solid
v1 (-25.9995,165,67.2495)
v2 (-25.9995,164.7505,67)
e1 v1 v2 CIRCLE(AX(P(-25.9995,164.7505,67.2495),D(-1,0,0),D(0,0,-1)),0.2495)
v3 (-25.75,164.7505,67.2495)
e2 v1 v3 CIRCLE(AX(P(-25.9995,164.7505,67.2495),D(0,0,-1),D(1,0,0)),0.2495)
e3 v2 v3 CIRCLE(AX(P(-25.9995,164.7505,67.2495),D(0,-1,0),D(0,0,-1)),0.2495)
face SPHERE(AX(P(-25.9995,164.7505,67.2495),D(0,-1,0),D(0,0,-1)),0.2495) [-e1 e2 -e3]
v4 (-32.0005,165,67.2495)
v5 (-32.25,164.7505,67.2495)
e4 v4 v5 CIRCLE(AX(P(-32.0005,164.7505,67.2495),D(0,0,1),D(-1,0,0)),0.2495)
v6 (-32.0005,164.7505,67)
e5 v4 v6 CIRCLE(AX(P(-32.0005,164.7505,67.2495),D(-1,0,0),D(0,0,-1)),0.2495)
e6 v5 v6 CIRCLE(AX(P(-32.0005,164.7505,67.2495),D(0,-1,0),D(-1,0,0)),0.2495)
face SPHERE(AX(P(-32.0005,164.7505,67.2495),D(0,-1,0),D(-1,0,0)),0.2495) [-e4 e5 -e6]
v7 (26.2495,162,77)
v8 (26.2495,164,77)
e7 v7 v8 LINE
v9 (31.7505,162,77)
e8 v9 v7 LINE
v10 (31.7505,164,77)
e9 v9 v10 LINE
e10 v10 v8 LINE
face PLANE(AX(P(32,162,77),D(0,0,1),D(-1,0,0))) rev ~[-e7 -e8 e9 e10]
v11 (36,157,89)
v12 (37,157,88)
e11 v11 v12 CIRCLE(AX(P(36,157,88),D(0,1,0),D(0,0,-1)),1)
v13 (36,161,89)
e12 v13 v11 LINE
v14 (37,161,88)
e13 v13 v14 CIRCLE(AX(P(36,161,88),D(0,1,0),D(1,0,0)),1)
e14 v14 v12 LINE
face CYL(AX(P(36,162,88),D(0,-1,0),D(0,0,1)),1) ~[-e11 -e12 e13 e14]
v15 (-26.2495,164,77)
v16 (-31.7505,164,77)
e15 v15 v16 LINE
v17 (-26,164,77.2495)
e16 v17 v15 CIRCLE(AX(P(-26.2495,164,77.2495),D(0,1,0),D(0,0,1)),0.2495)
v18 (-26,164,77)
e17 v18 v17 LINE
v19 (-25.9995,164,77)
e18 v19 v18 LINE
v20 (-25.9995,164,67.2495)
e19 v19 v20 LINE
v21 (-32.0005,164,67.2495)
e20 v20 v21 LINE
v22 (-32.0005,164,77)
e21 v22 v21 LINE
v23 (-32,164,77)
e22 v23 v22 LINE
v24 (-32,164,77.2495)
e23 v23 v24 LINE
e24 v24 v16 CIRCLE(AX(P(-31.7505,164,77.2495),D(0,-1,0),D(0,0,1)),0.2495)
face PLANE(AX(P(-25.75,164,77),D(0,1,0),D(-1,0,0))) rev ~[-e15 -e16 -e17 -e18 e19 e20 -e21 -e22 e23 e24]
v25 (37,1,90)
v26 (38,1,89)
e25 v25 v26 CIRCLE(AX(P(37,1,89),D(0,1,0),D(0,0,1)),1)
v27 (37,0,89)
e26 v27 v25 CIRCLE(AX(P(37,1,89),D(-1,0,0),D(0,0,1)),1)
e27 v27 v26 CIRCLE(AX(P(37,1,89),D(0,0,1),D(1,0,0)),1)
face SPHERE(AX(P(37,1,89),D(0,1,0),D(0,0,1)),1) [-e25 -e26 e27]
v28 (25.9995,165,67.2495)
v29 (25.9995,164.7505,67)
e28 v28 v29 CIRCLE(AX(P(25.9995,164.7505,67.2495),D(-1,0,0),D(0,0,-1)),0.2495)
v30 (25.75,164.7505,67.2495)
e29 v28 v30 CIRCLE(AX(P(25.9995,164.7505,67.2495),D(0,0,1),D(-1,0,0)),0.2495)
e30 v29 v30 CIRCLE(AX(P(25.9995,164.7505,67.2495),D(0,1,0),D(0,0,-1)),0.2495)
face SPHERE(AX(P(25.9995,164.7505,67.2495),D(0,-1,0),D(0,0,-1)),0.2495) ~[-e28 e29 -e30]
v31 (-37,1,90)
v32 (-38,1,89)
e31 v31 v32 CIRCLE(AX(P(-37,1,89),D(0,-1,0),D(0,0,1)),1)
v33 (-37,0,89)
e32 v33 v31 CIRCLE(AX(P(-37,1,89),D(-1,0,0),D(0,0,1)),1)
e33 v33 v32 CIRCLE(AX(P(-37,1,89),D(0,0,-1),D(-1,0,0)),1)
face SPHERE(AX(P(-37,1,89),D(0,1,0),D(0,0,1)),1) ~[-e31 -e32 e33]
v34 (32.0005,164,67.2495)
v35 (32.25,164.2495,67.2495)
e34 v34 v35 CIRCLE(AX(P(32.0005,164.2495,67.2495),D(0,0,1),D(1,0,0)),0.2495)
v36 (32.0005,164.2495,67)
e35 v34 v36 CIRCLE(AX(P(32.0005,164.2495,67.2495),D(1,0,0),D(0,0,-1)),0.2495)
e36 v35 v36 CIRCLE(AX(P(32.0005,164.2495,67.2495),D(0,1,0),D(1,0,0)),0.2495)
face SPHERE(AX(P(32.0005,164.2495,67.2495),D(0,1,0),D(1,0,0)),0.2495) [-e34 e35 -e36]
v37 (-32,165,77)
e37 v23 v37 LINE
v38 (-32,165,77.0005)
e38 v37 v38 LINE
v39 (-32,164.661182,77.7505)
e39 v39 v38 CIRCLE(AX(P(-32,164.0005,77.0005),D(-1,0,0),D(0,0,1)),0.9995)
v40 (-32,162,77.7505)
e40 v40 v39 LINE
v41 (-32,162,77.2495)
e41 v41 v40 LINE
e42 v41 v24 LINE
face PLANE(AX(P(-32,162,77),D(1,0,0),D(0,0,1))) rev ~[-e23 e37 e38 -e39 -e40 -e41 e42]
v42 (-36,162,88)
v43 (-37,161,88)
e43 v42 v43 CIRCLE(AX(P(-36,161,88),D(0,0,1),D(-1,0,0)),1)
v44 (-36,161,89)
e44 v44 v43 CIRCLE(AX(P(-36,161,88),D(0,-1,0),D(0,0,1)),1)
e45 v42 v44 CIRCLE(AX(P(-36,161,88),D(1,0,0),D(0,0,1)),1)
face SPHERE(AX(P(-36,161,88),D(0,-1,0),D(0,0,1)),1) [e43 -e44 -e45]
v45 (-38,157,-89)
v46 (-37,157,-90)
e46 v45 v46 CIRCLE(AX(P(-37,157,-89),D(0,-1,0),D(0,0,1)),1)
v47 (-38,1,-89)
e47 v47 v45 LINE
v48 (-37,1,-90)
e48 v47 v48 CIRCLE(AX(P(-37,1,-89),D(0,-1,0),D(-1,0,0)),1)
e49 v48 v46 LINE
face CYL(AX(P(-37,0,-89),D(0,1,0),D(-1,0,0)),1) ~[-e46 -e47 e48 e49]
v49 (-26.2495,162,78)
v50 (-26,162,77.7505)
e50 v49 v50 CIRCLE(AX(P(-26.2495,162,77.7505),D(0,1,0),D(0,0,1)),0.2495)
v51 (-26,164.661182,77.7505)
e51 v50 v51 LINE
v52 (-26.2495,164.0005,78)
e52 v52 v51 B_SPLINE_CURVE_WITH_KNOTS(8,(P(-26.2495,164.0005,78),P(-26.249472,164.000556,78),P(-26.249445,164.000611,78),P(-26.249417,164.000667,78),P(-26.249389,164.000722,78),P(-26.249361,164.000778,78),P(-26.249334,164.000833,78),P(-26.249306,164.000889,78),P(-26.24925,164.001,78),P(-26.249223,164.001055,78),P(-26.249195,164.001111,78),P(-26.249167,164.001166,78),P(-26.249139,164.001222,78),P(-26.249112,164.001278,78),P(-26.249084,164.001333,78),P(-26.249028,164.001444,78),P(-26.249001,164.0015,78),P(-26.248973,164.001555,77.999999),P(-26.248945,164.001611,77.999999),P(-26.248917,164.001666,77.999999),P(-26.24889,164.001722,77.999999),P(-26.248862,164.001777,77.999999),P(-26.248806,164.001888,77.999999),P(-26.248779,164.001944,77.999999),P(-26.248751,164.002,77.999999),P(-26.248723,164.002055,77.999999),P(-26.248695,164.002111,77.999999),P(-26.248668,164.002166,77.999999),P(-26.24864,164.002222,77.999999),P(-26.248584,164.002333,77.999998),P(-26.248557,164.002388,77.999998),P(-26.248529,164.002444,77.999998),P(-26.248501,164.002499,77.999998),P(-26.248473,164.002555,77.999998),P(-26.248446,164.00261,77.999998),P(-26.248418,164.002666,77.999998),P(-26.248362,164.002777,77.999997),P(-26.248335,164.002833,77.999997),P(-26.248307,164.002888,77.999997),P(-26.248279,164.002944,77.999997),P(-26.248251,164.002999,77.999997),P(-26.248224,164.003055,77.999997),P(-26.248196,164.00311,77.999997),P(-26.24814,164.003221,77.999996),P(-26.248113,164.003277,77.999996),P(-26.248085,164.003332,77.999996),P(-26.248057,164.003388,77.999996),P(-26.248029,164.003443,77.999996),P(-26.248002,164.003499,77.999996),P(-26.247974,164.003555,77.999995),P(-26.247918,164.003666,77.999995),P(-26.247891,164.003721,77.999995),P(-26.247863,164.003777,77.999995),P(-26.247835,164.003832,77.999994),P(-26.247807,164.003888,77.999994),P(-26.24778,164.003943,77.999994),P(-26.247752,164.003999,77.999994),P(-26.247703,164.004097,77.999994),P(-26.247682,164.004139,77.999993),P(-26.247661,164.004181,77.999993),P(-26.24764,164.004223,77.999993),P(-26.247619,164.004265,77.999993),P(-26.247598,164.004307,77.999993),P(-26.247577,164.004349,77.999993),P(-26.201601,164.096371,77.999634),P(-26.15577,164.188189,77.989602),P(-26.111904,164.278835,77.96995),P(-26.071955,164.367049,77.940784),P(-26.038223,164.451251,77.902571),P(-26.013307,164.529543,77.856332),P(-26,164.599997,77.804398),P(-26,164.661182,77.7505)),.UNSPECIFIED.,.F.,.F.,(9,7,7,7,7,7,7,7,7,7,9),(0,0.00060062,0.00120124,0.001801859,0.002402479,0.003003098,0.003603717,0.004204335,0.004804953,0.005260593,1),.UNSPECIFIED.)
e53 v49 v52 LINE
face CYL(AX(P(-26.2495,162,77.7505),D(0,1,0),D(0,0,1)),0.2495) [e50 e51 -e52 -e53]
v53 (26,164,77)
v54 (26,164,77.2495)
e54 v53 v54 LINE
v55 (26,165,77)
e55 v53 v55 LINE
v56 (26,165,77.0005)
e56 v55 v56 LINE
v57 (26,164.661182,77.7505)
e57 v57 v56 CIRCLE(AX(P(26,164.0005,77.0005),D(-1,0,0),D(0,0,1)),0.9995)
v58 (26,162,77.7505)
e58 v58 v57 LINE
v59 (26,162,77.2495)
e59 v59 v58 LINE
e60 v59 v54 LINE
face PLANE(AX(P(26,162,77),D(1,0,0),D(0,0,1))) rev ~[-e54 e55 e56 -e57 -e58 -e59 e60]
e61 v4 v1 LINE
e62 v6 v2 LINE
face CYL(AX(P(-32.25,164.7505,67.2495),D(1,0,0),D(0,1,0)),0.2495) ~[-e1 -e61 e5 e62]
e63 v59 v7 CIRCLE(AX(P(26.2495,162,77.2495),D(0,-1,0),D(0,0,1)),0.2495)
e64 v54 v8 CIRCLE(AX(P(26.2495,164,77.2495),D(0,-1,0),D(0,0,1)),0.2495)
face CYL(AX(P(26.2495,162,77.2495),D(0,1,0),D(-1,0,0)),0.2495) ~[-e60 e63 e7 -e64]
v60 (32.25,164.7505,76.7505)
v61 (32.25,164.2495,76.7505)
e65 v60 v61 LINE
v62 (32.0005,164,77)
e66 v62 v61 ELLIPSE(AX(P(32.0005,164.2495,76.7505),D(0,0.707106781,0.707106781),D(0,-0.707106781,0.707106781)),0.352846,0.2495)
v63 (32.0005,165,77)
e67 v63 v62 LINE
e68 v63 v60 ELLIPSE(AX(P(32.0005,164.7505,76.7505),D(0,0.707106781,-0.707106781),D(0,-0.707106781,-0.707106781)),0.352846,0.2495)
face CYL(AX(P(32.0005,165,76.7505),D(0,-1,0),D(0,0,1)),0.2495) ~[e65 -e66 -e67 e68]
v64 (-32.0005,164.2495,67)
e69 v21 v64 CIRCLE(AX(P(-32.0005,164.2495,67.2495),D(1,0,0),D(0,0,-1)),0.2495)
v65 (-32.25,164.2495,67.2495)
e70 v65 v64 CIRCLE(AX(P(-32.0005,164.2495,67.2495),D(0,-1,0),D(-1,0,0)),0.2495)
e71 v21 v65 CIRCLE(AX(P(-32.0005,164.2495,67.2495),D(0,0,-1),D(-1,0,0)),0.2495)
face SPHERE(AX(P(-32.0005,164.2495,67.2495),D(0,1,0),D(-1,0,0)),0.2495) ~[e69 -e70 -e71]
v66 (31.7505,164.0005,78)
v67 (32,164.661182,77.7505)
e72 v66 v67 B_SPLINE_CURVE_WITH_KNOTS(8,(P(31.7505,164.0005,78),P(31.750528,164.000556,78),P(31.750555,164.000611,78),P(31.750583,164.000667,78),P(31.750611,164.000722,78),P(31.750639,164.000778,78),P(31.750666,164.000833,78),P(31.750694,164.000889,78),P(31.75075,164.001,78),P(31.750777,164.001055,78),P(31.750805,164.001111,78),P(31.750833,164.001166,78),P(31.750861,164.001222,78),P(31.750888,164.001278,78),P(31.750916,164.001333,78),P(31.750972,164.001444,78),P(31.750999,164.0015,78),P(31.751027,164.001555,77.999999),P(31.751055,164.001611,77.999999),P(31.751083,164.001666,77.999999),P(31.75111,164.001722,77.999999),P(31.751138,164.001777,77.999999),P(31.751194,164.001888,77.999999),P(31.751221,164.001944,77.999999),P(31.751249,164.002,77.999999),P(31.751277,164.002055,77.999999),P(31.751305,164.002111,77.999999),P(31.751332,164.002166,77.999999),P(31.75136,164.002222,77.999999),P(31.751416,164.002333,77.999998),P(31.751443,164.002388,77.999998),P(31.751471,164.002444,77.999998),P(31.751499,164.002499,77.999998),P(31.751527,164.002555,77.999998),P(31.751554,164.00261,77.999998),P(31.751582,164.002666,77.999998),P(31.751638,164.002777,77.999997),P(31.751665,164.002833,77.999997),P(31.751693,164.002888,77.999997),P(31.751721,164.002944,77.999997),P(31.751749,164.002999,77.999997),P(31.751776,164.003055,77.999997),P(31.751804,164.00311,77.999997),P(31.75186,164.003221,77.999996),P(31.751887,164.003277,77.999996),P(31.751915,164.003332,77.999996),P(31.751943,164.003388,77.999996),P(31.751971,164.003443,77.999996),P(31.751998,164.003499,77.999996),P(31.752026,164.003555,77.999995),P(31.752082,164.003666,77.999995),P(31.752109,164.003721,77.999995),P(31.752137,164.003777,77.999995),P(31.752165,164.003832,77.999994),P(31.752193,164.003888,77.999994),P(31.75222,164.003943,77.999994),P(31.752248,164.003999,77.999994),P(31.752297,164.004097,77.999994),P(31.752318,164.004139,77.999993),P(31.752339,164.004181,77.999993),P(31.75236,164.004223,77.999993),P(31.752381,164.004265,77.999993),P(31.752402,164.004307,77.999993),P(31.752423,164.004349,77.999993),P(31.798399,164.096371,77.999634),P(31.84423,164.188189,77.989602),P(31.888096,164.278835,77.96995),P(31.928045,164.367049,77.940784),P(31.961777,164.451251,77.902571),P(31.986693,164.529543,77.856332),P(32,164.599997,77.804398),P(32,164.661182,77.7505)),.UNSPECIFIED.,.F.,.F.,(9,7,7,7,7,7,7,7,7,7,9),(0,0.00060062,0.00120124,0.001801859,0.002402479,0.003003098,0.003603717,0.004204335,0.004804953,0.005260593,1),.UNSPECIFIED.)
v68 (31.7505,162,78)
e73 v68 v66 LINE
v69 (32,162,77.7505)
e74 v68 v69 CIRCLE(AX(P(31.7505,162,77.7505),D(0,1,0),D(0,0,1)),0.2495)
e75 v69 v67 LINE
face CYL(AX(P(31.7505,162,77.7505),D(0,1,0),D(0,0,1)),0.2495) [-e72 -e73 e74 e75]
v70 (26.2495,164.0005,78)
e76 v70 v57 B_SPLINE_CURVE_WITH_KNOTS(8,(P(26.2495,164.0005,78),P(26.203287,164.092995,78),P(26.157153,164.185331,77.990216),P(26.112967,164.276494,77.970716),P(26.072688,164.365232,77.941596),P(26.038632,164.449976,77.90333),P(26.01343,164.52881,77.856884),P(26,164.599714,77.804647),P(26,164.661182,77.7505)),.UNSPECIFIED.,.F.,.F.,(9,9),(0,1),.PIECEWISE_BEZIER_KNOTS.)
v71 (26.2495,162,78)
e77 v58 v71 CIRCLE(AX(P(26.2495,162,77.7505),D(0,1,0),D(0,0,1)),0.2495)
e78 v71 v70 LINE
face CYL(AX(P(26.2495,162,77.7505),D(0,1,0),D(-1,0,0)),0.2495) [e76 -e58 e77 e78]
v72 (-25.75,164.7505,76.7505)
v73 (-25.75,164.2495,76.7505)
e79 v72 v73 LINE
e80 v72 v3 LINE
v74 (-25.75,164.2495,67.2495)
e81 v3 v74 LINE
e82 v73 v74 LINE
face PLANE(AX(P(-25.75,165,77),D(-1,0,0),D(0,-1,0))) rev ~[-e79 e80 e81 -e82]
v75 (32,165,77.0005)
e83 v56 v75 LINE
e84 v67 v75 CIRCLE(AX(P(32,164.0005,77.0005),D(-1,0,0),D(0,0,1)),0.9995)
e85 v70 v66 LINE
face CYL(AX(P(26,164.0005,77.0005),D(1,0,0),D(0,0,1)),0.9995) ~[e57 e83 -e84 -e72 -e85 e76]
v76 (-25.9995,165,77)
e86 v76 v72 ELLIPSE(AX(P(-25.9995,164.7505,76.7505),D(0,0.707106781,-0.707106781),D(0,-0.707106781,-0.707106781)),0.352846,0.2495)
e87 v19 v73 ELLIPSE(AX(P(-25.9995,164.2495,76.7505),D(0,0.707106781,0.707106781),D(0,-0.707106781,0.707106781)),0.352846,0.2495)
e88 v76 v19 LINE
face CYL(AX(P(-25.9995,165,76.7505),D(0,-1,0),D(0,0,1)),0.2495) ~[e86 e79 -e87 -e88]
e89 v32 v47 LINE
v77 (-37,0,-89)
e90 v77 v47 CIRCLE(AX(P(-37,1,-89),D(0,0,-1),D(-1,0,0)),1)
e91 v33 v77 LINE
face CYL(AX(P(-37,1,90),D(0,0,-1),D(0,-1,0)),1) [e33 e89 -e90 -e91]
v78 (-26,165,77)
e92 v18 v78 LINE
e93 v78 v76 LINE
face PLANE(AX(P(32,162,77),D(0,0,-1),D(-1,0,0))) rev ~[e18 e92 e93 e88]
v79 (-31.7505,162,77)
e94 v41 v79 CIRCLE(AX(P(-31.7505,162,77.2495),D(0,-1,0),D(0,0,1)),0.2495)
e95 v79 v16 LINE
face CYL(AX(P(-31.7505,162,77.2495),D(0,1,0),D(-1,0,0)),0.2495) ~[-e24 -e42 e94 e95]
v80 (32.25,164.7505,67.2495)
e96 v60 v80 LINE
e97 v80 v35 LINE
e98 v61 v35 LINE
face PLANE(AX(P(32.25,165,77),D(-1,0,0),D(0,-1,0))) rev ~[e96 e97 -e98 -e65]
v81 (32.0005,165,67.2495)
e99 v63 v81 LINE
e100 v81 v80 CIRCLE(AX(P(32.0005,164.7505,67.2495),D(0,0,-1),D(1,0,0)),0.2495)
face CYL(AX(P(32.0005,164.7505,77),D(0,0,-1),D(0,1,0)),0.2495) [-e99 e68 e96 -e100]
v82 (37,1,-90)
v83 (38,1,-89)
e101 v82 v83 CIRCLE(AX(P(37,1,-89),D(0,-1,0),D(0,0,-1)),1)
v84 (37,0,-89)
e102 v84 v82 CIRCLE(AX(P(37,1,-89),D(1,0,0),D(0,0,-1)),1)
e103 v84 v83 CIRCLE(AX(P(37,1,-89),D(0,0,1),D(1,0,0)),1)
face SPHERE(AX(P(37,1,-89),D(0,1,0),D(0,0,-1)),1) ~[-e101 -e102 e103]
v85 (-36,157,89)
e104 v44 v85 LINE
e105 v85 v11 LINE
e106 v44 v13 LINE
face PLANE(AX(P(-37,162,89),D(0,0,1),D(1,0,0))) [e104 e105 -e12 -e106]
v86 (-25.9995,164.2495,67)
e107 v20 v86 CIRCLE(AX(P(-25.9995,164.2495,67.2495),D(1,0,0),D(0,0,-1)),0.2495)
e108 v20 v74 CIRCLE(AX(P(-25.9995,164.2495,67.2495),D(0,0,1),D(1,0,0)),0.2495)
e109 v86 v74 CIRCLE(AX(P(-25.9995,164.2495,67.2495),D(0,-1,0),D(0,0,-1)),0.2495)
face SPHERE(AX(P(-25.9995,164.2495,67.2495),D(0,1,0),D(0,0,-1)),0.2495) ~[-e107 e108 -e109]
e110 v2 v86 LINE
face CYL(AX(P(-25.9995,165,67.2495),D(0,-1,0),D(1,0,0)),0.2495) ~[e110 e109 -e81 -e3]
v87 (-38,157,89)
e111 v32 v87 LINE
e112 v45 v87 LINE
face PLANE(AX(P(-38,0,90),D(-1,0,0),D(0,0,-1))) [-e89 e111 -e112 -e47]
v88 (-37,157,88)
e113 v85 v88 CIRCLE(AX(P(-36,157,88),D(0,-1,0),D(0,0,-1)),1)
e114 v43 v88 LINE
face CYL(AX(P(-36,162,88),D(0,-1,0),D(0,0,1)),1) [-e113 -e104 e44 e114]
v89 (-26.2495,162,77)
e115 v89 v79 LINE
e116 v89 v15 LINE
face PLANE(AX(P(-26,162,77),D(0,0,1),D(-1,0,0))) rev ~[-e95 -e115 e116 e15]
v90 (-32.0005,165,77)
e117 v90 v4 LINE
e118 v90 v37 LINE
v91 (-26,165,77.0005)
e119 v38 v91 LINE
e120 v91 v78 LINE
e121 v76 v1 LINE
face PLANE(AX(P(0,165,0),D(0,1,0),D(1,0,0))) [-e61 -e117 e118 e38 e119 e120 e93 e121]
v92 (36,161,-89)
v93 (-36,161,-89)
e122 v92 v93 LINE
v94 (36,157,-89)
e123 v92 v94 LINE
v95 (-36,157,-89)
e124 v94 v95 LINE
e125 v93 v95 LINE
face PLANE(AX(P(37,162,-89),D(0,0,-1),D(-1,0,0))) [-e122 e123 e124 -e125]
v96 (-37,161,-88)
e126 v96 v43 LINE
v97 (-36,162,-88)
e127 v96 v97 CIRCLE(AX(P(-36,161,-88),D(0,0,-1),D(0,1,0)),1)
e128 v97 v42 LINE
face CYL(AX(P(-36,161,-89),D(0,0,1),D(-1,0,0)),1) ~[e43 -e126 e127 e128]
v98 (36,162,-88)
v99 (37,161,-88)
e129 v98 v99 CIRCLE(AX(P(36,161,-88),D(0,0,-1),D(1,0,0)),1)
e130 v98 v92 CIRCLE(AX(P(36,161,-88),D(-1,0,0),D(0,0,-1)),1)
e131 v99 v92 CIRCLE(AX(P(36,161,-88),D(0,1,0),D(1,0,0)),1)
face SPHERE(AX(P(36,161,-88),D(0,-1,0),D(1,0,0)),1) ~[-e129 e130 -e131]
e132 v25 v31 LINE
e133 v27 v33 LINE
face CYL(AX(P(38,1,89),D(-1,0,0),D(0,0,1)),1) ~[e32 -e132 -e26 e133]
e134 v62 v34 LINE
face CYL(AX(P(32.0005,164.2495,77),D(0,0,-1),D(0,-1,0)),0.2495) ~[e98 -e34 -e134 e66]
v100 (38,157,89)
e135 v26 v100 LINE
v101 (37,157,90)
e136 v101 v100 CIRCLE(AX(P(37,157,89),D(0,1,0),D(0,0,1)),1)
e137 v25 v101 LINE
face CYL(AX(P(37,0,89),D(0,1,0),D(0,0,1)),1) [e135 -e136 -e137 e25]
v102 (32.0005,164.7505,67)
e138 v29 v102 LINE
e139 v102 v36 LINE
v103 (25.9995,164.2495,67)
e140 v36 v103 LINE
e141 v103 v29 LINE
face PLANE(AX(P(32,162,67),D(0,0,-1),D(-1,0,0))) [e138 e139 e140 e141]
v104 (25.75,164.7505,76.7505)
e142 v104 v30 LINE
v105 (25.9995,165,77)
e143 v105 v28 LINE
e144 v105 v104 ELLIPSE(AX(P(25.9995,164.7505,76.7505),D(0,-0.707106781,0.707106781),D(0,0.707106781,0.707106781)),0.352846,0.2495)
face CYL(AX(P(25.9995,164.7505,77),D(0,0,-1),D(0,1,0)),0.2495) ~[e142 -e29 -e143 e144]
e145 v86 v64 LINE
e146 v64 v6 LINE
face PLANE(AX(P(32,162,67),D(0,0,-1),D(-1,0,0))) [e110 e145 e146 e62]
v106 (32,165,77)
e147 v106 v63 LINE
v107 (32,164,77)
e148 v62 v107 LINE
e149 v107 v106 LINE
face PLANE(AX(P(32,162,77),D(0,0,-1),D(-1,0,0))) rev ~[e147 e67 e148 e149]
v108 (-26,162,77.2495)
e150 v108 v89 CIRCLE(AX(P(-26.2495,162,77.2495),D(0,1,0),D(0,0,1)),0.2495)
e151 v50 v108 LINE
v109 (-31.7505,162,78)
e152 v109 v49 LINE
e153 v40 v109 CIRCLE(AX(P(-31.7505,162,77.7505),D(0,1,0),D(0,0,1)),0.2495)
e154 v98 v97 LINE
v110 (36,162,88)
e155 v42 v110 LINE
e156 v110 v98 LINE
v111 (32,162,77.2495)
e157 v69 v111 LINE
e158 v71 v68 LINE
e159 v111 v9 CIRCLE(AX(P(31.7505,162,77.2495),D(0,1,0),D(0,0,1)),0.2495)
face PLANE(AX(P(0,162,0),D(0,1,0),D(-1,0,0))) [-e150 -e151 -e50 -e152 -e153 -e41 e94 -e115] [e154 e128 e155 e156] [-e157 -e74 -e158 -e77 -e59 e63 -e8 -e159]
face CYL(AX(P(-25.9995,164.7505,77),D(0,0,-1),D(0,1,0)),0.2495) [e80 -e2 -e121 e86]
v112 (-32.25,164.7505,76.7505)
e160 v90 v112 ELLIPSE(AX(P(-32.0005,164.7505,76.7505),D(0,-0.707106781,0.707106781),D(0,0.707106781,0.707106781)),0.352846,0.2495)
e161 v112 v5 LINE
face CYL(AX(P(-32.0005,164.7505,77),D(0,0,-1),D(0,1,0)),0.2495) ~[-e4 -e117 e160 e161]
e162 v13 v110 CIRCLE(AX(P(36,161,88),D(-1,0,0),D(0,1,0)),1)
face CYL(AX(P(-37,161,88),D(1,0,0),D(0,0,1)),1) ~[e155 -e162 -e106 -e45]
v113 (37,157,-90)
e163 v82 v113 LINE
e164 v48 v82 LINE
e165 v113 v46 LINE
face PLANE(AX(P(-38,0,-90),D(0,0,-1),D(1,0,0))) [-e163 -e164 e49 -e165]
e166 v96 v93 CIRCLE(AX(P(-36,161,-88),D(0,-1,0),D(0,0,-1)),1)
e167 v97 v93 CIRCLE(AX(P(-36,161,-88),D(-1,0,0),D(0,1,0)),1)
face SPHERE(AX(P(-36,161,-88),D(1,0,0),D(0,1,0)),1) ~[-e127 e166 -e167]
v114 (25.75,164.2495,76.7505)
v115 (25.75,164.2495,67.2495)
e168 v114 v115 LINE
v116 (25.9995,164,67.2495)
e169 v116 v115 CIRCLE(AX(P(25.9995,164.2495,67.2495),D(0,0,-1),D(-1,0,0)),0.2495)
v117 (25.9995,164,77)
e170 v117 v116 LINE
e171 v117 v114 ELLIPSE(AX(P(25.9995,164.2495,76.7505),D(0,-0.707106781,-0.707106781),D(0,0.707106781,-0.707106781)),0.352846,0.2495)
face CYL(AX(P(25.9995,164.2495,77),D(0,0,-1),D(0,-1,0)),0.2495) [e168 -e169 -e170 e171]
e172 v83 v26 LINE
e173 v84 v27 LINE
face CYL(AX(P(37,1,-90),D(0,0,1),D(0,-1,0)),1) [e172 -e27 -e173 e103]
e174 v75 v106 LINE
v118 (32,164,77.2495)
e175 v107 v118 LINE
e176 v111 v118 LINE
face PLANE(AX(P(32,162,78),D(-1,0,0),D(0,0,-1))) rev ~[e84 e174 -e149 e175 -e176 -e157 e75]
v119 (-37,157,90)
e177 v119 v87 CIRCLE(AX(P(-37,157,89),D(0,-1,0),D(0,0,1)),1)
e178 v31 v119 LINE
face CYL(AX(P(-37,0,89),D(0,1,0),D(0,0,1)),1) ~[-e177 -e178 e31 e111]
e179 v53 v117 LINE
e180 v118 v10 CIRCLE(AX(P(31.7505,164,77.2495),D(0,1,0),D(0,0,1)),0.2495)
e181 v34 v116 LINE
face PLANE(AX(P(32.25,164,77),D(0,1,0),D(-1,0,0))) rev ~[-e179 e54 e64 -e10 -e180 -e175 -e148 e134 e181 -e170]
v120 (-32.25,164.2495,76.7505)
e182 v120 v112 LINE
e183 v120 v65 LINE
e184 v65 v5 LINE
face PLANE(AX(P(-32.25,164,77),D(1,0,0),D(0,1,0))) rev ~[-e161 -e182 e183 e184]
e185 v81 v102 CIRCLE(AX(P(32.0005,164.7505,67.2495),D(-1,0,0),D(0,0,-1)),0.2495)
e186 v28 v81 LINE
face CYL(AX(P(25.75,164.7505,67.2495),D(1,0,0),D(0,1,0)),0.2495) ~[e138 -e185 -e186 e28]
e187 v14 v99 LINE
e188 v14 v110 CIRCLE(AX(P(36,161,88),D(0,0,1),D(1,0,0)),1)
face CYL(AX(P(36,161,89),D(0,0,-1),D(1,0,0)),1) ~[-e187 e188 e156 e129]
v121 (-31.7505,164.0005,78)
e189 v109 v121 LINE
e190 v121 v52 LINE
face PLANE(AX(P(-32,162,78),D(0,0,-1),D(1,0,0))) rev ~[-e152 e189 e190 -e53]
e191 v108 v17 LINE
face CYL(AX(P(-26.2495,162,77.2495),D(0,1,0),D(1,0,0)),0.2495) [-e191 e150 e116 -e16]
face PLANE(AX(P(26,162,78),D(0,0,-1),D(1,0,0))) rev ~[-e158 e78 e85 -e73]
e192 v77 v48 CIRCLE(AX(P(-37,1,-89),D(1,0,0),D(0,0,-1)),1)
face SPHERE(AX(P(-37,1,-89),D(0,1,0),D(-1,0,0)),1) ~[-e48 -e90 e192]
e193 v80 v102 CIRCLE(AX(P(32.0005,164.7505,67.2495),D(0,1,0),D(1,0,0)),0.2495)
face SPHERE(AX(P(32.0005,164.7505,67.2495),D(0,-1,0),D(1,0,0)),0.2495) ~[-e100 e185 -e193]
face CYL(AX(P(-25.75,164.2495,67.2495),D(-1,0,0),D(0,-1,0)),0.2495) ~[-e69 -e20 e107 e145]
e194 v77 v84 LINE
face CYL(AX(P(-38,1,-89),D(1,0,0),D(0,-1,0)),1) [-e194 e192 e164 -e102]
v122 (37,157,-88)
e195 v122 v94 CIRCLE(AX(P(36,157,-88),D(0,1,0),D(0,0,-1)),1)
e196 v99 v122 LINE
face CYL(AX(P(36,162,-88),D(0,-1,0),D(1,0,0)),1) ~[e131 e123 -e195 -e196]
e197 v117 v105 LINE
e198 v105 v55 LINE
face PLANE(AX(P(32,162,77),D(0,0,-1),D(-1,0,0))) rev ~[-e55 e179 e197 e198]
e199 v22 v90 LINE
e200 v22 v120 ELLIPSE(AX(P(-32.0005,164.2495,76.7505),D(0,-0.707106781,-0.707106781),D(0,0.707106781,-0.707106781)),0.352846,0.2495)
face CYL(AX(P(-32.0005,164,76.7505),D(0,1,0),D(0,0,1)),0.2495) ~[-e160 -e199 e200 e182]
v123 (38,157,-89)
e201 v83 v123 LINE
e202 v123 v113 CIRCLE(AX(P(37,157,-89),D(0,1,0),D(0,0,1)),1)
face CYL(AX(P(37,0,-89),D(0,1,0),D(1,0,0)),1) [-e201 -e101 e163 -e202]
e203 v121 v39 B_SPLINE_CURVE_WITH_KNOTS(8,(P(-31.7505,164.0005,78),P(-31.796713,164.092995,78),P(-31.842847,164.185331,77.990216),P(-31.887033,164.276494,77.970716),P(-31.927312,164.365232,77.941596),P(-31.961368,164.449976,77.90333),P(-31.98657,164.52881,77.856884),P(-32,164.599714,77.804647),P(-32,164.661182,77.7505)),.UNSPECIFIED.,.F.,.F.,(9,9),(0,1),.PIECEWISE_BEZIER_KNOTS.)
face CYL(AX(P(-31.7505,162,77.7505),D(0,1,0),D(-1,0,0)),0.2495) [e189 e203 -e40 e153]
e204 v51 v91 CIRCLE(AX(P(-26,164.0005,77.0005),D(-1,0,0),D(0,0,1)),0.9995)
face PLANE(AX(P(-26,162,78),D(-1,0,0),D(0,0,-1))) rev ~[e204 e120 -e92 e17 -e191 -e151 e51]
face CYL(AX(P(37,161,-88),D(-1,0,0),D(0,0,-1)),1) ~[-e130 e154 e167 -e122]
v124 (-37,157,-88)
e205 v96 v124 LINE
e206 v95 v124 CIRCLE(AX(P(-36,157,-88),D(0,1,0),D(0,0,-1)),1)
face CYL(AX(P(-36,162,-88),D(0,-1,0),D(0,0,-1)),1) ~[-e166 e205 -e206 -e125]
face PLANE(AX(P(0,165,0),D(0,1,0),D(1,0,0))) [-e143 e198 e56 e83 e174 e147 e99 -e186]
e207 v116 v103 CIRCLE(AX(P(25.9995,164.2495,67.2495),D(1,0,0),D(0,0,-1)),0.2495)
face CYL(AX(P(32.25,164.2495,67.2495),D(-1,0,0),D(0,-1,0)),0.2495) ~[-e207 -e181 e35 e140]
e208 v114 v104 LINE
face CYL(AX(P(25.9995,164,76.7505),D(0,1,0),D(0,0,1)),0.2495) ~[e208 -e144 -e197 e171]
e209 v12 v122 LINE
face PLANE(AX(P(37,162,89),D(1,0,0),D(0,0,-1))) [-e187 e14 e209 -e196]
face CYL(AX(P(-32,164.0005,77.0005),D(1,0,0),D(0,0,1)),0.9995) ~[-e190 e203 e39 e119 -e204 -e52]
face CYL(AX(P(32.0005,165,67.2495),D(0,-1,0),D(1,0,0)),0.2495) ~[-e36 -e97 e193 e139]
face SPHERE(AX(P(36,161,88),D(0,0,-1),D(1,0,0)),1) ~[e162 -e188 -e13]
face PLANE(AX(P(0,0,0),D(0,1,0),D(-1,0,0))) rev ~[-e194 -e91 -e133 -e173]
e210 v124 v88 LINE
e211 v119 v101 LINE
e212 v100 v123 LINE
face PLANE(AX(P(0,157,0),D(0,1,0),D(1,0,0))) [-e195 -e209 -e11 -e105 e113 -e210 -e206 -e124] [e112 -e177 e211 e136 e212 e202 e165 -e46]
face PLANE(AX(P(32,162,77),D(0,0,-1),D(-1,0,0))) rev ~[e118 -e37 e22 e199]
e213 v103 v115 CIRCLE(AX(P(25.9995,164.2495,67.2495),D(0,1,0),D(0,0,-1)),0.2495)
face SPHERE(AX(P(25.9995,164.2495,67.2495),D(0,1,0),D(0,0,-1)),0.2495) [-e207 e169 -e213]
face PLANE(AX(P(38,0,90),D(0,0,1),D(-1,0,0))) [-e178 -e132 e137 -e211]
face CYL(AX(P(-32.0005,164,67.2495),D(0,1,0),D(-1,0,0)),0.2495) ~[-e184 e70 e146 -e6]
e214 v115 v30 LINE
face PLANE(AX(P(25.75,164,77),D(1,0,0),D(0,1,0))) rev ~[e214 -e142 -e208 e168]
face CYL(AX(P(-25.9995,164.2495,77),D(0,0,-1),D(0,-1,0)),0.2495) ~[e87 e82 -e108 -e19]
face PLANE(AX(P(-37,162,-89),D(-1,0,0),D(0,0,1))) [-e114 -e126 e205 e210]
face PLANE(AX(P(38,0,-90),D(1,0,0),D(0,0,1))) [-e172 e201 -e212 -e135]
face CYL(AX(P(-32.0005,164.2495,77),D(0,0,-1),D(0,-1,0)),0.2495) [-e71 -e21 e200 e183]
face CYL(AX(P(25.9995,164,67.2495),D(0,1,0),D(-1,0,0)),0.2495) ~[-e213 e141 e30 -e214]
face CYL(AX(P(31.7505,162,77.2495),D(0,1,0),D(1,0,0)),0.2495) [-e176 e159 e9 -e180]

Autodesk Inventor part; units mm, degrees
ref_plane "YZ Plane" through (0, 0, 0) normal (1, 0, 0) x (0, 1, 0)
ref_plane "XZ Plane" through (0, 0, 0) normal (0, 1, 0) x (-1, 0, 0)
ref_plane "XY Plane" through (0, 0, 0) normal (0, 0, 1) x (1, 0, 0)
sketch "Sketch1" plane through (0, 0, 0) normal (0, 1, 0) x (-1, 0, 0)
  line L0 (-38, 90) -> (38, 90)
  line L1 (38, 90) -> (38, -90)
  line L2 (38, -90) -> (-38, -90)
  line L3 (-38, -90) -> (-38, 90)
  line L4 (-38, 90) -> (38, -90) construction
  line L5 (38, 90) -> (-38, -90) construction
  point P0 (0, 0)
  dimension "d0" = 76
  dimension "d1" = 180
extrude "Extrusion1" add sketch "Sketch1" along normal blind 162
sketch "Sketch2" plane through (0, 162, 0) normal (0, 1, 0) x (1, 0, 0)
  line L0 (-38, -90) -> (38, -90) construction
  line L1 (38, -90) -> (38, 90) construction
  line L2 (38, 90) -> (-38, 90) construction
  line L3 (-38, 90) -> (-38, -90) construction
  line L4 (-37, -89) -> (37, -89)
  line L5 (37, -89) -> (37, 89)
  line L6 (37, 89) -> (-37, 89)
  line L7 (-37, 89) -> (-37, -89)
  line L8 (-38, 90) -> (-38, -90) projected
  line L9 (-38, -90) -> (38, -90)
  line L10 (38, -90) -> (38, 90)
  line L11 (38, 90) -> (-38, 90)
  line L12 (-38, 90) -> (-38, -90)
  point P0 (0, 0)
  dimension "d4" = 1
extrude "Extrusion2" cut sketch "Sketch2" against normal blind 5
fillet "Fillet1" radius 1 16 edges at (38, 78.5, -90) (38, 78.5, 90) (-38, 78.5, -90) (-38, 78.5, 90) (0, 0, 90) (-38, 0, 0) (0, 0, -90) (38, 0, 0) (37, 159.5, -89) (37, 162, 0) (0, 162, -89) (37, 159.5, 89) (-37, 159.5, 89) (0, 162, 89) (-37, 162, 0) (-37, 159.5, -89)
sketch "Sketch3" plane through (0, 162, 0) normal (0, 1, 0) x (1, 0, 0)
  line L0 (37, -88) -> (37, 88) construction
  line L1 (-36, -89) -> (36, -89) construction
  line L2 (-37, 88) -> (-37, -88) construction
  line L3 (-32, -78) -> (-26, -78)
  line L4 (-26, -78) -> (-26, -77)
  line L5 (-26, -77) -> (-32, -77)
  line L6 (-32, -77) -> (-32, -78)
  line L7 (-32, -78) -> (-26, -77) construction
  line L8 (-26, -78) -> (-32, -77) construction
  line L9 (26, -78) -> (32, -78)
  line L10 (32, -78) -> (32, -77)
  line L11 (32, -77) -> (26, -77)
  line L12 (26, -77) -> (26, -78)
  line L13 (26, -78) -> (32, -77) construction
  line L14 (32, -78) -> (26, -77) construction
  point P0 (0, 0)
  point P1 (-29, -77.5)
  point P2 (29, -77.5)
  dimension "d12" = 6
  dimension "d13" = 1
  dimension "d14" = 6
  dimension "d15" = 1
  dimension "d16" = 11
  dimension "d17" = 5
  dimension "d18" = 5
  dimension "d19" = 11
extrude "Extrusion3" add sketch "Sketch3" along normal blind 3
sketch "Sketch4" plane through (32, 162, 77) normal (0, 0, -1) x (-1, 0, 0)
  line L0 (-0.25, 2) -> (6.25, 2)
  line L1 (6.25, 2) -> (6.25, 3)
  line L2 (6.25, 3) -> (-0.25, 3)
  line L3 (-0.25, 3) -> (-0.25, 2)
  line L4 (-0.25, 2) -> (6.25, 3) construction
  line L5 (6.25, 2) -> (-0.25, 3) construction
  line L6 (0, 3) -> (6, 3) construction
  line L7 (57.75, 2) -> (64.25, 2)
  line L8 (64.25, 2) -> (64.25, 3)
  line L9 (64.25, 3) -> (57.75, 3)
  line L10 (57.75, 3) -> (57.75, 2)
  line L11 (57.75, 2) -> (64.25, 3) construction
  line L12 (64.25, 2) -> (57.75, 3) construction
  line L13 (58, 3) -> (64, 3) construction
  point P0 (32, -162)
  point P1 (3, 2.5)
  point P2 (3, 3)
  point P3 (61, 2.5)
  point P4 (61, 3)
  dimension "d22" = 6.5
  dimension "d23" = 1
  dimension "d24" = 6.5
  dimension "d25" = 1
extrude "Extrusion4" add sketch "Sketch4" along normal blind 10
fillet "Fillet2" radius 0.25 28 edges at (32.25, 164.5, 67) (25.75, 164.5, 67) (32.25, 164.5, 77) (25.75, 164.5, 77) (-25.75, 164.5, 67) (-25.75, 164.5, 77) (-32.25, 164.5, 67) (-32.25, 164.5, 77) (-32.25, 165, 72) (-32.25, 164, 72) (-29, 165, 67) (-29, 164, 67) (-25.75, 164, 72) (-25.75, 165, 72) (-26, 163, 77) (-26, 163.5, 78) (-32, 163, 77) (-32, 163.5, 78) (32.25, 165, 72) (32.25, 164, 72) (32, 163, 77) (32, 163.5, 78) (29, 165, 67) (29, 164, 67) (25.75, 165, 72) (25.75, 164, 72) (26, 163, 77) (26, 163.5, 78)
fillet "Fillet2" radius 1 2 edges at (29, 165, 78) (-29, 165, 78)
properties part number "NP18-12 Battery" material "Copper"
